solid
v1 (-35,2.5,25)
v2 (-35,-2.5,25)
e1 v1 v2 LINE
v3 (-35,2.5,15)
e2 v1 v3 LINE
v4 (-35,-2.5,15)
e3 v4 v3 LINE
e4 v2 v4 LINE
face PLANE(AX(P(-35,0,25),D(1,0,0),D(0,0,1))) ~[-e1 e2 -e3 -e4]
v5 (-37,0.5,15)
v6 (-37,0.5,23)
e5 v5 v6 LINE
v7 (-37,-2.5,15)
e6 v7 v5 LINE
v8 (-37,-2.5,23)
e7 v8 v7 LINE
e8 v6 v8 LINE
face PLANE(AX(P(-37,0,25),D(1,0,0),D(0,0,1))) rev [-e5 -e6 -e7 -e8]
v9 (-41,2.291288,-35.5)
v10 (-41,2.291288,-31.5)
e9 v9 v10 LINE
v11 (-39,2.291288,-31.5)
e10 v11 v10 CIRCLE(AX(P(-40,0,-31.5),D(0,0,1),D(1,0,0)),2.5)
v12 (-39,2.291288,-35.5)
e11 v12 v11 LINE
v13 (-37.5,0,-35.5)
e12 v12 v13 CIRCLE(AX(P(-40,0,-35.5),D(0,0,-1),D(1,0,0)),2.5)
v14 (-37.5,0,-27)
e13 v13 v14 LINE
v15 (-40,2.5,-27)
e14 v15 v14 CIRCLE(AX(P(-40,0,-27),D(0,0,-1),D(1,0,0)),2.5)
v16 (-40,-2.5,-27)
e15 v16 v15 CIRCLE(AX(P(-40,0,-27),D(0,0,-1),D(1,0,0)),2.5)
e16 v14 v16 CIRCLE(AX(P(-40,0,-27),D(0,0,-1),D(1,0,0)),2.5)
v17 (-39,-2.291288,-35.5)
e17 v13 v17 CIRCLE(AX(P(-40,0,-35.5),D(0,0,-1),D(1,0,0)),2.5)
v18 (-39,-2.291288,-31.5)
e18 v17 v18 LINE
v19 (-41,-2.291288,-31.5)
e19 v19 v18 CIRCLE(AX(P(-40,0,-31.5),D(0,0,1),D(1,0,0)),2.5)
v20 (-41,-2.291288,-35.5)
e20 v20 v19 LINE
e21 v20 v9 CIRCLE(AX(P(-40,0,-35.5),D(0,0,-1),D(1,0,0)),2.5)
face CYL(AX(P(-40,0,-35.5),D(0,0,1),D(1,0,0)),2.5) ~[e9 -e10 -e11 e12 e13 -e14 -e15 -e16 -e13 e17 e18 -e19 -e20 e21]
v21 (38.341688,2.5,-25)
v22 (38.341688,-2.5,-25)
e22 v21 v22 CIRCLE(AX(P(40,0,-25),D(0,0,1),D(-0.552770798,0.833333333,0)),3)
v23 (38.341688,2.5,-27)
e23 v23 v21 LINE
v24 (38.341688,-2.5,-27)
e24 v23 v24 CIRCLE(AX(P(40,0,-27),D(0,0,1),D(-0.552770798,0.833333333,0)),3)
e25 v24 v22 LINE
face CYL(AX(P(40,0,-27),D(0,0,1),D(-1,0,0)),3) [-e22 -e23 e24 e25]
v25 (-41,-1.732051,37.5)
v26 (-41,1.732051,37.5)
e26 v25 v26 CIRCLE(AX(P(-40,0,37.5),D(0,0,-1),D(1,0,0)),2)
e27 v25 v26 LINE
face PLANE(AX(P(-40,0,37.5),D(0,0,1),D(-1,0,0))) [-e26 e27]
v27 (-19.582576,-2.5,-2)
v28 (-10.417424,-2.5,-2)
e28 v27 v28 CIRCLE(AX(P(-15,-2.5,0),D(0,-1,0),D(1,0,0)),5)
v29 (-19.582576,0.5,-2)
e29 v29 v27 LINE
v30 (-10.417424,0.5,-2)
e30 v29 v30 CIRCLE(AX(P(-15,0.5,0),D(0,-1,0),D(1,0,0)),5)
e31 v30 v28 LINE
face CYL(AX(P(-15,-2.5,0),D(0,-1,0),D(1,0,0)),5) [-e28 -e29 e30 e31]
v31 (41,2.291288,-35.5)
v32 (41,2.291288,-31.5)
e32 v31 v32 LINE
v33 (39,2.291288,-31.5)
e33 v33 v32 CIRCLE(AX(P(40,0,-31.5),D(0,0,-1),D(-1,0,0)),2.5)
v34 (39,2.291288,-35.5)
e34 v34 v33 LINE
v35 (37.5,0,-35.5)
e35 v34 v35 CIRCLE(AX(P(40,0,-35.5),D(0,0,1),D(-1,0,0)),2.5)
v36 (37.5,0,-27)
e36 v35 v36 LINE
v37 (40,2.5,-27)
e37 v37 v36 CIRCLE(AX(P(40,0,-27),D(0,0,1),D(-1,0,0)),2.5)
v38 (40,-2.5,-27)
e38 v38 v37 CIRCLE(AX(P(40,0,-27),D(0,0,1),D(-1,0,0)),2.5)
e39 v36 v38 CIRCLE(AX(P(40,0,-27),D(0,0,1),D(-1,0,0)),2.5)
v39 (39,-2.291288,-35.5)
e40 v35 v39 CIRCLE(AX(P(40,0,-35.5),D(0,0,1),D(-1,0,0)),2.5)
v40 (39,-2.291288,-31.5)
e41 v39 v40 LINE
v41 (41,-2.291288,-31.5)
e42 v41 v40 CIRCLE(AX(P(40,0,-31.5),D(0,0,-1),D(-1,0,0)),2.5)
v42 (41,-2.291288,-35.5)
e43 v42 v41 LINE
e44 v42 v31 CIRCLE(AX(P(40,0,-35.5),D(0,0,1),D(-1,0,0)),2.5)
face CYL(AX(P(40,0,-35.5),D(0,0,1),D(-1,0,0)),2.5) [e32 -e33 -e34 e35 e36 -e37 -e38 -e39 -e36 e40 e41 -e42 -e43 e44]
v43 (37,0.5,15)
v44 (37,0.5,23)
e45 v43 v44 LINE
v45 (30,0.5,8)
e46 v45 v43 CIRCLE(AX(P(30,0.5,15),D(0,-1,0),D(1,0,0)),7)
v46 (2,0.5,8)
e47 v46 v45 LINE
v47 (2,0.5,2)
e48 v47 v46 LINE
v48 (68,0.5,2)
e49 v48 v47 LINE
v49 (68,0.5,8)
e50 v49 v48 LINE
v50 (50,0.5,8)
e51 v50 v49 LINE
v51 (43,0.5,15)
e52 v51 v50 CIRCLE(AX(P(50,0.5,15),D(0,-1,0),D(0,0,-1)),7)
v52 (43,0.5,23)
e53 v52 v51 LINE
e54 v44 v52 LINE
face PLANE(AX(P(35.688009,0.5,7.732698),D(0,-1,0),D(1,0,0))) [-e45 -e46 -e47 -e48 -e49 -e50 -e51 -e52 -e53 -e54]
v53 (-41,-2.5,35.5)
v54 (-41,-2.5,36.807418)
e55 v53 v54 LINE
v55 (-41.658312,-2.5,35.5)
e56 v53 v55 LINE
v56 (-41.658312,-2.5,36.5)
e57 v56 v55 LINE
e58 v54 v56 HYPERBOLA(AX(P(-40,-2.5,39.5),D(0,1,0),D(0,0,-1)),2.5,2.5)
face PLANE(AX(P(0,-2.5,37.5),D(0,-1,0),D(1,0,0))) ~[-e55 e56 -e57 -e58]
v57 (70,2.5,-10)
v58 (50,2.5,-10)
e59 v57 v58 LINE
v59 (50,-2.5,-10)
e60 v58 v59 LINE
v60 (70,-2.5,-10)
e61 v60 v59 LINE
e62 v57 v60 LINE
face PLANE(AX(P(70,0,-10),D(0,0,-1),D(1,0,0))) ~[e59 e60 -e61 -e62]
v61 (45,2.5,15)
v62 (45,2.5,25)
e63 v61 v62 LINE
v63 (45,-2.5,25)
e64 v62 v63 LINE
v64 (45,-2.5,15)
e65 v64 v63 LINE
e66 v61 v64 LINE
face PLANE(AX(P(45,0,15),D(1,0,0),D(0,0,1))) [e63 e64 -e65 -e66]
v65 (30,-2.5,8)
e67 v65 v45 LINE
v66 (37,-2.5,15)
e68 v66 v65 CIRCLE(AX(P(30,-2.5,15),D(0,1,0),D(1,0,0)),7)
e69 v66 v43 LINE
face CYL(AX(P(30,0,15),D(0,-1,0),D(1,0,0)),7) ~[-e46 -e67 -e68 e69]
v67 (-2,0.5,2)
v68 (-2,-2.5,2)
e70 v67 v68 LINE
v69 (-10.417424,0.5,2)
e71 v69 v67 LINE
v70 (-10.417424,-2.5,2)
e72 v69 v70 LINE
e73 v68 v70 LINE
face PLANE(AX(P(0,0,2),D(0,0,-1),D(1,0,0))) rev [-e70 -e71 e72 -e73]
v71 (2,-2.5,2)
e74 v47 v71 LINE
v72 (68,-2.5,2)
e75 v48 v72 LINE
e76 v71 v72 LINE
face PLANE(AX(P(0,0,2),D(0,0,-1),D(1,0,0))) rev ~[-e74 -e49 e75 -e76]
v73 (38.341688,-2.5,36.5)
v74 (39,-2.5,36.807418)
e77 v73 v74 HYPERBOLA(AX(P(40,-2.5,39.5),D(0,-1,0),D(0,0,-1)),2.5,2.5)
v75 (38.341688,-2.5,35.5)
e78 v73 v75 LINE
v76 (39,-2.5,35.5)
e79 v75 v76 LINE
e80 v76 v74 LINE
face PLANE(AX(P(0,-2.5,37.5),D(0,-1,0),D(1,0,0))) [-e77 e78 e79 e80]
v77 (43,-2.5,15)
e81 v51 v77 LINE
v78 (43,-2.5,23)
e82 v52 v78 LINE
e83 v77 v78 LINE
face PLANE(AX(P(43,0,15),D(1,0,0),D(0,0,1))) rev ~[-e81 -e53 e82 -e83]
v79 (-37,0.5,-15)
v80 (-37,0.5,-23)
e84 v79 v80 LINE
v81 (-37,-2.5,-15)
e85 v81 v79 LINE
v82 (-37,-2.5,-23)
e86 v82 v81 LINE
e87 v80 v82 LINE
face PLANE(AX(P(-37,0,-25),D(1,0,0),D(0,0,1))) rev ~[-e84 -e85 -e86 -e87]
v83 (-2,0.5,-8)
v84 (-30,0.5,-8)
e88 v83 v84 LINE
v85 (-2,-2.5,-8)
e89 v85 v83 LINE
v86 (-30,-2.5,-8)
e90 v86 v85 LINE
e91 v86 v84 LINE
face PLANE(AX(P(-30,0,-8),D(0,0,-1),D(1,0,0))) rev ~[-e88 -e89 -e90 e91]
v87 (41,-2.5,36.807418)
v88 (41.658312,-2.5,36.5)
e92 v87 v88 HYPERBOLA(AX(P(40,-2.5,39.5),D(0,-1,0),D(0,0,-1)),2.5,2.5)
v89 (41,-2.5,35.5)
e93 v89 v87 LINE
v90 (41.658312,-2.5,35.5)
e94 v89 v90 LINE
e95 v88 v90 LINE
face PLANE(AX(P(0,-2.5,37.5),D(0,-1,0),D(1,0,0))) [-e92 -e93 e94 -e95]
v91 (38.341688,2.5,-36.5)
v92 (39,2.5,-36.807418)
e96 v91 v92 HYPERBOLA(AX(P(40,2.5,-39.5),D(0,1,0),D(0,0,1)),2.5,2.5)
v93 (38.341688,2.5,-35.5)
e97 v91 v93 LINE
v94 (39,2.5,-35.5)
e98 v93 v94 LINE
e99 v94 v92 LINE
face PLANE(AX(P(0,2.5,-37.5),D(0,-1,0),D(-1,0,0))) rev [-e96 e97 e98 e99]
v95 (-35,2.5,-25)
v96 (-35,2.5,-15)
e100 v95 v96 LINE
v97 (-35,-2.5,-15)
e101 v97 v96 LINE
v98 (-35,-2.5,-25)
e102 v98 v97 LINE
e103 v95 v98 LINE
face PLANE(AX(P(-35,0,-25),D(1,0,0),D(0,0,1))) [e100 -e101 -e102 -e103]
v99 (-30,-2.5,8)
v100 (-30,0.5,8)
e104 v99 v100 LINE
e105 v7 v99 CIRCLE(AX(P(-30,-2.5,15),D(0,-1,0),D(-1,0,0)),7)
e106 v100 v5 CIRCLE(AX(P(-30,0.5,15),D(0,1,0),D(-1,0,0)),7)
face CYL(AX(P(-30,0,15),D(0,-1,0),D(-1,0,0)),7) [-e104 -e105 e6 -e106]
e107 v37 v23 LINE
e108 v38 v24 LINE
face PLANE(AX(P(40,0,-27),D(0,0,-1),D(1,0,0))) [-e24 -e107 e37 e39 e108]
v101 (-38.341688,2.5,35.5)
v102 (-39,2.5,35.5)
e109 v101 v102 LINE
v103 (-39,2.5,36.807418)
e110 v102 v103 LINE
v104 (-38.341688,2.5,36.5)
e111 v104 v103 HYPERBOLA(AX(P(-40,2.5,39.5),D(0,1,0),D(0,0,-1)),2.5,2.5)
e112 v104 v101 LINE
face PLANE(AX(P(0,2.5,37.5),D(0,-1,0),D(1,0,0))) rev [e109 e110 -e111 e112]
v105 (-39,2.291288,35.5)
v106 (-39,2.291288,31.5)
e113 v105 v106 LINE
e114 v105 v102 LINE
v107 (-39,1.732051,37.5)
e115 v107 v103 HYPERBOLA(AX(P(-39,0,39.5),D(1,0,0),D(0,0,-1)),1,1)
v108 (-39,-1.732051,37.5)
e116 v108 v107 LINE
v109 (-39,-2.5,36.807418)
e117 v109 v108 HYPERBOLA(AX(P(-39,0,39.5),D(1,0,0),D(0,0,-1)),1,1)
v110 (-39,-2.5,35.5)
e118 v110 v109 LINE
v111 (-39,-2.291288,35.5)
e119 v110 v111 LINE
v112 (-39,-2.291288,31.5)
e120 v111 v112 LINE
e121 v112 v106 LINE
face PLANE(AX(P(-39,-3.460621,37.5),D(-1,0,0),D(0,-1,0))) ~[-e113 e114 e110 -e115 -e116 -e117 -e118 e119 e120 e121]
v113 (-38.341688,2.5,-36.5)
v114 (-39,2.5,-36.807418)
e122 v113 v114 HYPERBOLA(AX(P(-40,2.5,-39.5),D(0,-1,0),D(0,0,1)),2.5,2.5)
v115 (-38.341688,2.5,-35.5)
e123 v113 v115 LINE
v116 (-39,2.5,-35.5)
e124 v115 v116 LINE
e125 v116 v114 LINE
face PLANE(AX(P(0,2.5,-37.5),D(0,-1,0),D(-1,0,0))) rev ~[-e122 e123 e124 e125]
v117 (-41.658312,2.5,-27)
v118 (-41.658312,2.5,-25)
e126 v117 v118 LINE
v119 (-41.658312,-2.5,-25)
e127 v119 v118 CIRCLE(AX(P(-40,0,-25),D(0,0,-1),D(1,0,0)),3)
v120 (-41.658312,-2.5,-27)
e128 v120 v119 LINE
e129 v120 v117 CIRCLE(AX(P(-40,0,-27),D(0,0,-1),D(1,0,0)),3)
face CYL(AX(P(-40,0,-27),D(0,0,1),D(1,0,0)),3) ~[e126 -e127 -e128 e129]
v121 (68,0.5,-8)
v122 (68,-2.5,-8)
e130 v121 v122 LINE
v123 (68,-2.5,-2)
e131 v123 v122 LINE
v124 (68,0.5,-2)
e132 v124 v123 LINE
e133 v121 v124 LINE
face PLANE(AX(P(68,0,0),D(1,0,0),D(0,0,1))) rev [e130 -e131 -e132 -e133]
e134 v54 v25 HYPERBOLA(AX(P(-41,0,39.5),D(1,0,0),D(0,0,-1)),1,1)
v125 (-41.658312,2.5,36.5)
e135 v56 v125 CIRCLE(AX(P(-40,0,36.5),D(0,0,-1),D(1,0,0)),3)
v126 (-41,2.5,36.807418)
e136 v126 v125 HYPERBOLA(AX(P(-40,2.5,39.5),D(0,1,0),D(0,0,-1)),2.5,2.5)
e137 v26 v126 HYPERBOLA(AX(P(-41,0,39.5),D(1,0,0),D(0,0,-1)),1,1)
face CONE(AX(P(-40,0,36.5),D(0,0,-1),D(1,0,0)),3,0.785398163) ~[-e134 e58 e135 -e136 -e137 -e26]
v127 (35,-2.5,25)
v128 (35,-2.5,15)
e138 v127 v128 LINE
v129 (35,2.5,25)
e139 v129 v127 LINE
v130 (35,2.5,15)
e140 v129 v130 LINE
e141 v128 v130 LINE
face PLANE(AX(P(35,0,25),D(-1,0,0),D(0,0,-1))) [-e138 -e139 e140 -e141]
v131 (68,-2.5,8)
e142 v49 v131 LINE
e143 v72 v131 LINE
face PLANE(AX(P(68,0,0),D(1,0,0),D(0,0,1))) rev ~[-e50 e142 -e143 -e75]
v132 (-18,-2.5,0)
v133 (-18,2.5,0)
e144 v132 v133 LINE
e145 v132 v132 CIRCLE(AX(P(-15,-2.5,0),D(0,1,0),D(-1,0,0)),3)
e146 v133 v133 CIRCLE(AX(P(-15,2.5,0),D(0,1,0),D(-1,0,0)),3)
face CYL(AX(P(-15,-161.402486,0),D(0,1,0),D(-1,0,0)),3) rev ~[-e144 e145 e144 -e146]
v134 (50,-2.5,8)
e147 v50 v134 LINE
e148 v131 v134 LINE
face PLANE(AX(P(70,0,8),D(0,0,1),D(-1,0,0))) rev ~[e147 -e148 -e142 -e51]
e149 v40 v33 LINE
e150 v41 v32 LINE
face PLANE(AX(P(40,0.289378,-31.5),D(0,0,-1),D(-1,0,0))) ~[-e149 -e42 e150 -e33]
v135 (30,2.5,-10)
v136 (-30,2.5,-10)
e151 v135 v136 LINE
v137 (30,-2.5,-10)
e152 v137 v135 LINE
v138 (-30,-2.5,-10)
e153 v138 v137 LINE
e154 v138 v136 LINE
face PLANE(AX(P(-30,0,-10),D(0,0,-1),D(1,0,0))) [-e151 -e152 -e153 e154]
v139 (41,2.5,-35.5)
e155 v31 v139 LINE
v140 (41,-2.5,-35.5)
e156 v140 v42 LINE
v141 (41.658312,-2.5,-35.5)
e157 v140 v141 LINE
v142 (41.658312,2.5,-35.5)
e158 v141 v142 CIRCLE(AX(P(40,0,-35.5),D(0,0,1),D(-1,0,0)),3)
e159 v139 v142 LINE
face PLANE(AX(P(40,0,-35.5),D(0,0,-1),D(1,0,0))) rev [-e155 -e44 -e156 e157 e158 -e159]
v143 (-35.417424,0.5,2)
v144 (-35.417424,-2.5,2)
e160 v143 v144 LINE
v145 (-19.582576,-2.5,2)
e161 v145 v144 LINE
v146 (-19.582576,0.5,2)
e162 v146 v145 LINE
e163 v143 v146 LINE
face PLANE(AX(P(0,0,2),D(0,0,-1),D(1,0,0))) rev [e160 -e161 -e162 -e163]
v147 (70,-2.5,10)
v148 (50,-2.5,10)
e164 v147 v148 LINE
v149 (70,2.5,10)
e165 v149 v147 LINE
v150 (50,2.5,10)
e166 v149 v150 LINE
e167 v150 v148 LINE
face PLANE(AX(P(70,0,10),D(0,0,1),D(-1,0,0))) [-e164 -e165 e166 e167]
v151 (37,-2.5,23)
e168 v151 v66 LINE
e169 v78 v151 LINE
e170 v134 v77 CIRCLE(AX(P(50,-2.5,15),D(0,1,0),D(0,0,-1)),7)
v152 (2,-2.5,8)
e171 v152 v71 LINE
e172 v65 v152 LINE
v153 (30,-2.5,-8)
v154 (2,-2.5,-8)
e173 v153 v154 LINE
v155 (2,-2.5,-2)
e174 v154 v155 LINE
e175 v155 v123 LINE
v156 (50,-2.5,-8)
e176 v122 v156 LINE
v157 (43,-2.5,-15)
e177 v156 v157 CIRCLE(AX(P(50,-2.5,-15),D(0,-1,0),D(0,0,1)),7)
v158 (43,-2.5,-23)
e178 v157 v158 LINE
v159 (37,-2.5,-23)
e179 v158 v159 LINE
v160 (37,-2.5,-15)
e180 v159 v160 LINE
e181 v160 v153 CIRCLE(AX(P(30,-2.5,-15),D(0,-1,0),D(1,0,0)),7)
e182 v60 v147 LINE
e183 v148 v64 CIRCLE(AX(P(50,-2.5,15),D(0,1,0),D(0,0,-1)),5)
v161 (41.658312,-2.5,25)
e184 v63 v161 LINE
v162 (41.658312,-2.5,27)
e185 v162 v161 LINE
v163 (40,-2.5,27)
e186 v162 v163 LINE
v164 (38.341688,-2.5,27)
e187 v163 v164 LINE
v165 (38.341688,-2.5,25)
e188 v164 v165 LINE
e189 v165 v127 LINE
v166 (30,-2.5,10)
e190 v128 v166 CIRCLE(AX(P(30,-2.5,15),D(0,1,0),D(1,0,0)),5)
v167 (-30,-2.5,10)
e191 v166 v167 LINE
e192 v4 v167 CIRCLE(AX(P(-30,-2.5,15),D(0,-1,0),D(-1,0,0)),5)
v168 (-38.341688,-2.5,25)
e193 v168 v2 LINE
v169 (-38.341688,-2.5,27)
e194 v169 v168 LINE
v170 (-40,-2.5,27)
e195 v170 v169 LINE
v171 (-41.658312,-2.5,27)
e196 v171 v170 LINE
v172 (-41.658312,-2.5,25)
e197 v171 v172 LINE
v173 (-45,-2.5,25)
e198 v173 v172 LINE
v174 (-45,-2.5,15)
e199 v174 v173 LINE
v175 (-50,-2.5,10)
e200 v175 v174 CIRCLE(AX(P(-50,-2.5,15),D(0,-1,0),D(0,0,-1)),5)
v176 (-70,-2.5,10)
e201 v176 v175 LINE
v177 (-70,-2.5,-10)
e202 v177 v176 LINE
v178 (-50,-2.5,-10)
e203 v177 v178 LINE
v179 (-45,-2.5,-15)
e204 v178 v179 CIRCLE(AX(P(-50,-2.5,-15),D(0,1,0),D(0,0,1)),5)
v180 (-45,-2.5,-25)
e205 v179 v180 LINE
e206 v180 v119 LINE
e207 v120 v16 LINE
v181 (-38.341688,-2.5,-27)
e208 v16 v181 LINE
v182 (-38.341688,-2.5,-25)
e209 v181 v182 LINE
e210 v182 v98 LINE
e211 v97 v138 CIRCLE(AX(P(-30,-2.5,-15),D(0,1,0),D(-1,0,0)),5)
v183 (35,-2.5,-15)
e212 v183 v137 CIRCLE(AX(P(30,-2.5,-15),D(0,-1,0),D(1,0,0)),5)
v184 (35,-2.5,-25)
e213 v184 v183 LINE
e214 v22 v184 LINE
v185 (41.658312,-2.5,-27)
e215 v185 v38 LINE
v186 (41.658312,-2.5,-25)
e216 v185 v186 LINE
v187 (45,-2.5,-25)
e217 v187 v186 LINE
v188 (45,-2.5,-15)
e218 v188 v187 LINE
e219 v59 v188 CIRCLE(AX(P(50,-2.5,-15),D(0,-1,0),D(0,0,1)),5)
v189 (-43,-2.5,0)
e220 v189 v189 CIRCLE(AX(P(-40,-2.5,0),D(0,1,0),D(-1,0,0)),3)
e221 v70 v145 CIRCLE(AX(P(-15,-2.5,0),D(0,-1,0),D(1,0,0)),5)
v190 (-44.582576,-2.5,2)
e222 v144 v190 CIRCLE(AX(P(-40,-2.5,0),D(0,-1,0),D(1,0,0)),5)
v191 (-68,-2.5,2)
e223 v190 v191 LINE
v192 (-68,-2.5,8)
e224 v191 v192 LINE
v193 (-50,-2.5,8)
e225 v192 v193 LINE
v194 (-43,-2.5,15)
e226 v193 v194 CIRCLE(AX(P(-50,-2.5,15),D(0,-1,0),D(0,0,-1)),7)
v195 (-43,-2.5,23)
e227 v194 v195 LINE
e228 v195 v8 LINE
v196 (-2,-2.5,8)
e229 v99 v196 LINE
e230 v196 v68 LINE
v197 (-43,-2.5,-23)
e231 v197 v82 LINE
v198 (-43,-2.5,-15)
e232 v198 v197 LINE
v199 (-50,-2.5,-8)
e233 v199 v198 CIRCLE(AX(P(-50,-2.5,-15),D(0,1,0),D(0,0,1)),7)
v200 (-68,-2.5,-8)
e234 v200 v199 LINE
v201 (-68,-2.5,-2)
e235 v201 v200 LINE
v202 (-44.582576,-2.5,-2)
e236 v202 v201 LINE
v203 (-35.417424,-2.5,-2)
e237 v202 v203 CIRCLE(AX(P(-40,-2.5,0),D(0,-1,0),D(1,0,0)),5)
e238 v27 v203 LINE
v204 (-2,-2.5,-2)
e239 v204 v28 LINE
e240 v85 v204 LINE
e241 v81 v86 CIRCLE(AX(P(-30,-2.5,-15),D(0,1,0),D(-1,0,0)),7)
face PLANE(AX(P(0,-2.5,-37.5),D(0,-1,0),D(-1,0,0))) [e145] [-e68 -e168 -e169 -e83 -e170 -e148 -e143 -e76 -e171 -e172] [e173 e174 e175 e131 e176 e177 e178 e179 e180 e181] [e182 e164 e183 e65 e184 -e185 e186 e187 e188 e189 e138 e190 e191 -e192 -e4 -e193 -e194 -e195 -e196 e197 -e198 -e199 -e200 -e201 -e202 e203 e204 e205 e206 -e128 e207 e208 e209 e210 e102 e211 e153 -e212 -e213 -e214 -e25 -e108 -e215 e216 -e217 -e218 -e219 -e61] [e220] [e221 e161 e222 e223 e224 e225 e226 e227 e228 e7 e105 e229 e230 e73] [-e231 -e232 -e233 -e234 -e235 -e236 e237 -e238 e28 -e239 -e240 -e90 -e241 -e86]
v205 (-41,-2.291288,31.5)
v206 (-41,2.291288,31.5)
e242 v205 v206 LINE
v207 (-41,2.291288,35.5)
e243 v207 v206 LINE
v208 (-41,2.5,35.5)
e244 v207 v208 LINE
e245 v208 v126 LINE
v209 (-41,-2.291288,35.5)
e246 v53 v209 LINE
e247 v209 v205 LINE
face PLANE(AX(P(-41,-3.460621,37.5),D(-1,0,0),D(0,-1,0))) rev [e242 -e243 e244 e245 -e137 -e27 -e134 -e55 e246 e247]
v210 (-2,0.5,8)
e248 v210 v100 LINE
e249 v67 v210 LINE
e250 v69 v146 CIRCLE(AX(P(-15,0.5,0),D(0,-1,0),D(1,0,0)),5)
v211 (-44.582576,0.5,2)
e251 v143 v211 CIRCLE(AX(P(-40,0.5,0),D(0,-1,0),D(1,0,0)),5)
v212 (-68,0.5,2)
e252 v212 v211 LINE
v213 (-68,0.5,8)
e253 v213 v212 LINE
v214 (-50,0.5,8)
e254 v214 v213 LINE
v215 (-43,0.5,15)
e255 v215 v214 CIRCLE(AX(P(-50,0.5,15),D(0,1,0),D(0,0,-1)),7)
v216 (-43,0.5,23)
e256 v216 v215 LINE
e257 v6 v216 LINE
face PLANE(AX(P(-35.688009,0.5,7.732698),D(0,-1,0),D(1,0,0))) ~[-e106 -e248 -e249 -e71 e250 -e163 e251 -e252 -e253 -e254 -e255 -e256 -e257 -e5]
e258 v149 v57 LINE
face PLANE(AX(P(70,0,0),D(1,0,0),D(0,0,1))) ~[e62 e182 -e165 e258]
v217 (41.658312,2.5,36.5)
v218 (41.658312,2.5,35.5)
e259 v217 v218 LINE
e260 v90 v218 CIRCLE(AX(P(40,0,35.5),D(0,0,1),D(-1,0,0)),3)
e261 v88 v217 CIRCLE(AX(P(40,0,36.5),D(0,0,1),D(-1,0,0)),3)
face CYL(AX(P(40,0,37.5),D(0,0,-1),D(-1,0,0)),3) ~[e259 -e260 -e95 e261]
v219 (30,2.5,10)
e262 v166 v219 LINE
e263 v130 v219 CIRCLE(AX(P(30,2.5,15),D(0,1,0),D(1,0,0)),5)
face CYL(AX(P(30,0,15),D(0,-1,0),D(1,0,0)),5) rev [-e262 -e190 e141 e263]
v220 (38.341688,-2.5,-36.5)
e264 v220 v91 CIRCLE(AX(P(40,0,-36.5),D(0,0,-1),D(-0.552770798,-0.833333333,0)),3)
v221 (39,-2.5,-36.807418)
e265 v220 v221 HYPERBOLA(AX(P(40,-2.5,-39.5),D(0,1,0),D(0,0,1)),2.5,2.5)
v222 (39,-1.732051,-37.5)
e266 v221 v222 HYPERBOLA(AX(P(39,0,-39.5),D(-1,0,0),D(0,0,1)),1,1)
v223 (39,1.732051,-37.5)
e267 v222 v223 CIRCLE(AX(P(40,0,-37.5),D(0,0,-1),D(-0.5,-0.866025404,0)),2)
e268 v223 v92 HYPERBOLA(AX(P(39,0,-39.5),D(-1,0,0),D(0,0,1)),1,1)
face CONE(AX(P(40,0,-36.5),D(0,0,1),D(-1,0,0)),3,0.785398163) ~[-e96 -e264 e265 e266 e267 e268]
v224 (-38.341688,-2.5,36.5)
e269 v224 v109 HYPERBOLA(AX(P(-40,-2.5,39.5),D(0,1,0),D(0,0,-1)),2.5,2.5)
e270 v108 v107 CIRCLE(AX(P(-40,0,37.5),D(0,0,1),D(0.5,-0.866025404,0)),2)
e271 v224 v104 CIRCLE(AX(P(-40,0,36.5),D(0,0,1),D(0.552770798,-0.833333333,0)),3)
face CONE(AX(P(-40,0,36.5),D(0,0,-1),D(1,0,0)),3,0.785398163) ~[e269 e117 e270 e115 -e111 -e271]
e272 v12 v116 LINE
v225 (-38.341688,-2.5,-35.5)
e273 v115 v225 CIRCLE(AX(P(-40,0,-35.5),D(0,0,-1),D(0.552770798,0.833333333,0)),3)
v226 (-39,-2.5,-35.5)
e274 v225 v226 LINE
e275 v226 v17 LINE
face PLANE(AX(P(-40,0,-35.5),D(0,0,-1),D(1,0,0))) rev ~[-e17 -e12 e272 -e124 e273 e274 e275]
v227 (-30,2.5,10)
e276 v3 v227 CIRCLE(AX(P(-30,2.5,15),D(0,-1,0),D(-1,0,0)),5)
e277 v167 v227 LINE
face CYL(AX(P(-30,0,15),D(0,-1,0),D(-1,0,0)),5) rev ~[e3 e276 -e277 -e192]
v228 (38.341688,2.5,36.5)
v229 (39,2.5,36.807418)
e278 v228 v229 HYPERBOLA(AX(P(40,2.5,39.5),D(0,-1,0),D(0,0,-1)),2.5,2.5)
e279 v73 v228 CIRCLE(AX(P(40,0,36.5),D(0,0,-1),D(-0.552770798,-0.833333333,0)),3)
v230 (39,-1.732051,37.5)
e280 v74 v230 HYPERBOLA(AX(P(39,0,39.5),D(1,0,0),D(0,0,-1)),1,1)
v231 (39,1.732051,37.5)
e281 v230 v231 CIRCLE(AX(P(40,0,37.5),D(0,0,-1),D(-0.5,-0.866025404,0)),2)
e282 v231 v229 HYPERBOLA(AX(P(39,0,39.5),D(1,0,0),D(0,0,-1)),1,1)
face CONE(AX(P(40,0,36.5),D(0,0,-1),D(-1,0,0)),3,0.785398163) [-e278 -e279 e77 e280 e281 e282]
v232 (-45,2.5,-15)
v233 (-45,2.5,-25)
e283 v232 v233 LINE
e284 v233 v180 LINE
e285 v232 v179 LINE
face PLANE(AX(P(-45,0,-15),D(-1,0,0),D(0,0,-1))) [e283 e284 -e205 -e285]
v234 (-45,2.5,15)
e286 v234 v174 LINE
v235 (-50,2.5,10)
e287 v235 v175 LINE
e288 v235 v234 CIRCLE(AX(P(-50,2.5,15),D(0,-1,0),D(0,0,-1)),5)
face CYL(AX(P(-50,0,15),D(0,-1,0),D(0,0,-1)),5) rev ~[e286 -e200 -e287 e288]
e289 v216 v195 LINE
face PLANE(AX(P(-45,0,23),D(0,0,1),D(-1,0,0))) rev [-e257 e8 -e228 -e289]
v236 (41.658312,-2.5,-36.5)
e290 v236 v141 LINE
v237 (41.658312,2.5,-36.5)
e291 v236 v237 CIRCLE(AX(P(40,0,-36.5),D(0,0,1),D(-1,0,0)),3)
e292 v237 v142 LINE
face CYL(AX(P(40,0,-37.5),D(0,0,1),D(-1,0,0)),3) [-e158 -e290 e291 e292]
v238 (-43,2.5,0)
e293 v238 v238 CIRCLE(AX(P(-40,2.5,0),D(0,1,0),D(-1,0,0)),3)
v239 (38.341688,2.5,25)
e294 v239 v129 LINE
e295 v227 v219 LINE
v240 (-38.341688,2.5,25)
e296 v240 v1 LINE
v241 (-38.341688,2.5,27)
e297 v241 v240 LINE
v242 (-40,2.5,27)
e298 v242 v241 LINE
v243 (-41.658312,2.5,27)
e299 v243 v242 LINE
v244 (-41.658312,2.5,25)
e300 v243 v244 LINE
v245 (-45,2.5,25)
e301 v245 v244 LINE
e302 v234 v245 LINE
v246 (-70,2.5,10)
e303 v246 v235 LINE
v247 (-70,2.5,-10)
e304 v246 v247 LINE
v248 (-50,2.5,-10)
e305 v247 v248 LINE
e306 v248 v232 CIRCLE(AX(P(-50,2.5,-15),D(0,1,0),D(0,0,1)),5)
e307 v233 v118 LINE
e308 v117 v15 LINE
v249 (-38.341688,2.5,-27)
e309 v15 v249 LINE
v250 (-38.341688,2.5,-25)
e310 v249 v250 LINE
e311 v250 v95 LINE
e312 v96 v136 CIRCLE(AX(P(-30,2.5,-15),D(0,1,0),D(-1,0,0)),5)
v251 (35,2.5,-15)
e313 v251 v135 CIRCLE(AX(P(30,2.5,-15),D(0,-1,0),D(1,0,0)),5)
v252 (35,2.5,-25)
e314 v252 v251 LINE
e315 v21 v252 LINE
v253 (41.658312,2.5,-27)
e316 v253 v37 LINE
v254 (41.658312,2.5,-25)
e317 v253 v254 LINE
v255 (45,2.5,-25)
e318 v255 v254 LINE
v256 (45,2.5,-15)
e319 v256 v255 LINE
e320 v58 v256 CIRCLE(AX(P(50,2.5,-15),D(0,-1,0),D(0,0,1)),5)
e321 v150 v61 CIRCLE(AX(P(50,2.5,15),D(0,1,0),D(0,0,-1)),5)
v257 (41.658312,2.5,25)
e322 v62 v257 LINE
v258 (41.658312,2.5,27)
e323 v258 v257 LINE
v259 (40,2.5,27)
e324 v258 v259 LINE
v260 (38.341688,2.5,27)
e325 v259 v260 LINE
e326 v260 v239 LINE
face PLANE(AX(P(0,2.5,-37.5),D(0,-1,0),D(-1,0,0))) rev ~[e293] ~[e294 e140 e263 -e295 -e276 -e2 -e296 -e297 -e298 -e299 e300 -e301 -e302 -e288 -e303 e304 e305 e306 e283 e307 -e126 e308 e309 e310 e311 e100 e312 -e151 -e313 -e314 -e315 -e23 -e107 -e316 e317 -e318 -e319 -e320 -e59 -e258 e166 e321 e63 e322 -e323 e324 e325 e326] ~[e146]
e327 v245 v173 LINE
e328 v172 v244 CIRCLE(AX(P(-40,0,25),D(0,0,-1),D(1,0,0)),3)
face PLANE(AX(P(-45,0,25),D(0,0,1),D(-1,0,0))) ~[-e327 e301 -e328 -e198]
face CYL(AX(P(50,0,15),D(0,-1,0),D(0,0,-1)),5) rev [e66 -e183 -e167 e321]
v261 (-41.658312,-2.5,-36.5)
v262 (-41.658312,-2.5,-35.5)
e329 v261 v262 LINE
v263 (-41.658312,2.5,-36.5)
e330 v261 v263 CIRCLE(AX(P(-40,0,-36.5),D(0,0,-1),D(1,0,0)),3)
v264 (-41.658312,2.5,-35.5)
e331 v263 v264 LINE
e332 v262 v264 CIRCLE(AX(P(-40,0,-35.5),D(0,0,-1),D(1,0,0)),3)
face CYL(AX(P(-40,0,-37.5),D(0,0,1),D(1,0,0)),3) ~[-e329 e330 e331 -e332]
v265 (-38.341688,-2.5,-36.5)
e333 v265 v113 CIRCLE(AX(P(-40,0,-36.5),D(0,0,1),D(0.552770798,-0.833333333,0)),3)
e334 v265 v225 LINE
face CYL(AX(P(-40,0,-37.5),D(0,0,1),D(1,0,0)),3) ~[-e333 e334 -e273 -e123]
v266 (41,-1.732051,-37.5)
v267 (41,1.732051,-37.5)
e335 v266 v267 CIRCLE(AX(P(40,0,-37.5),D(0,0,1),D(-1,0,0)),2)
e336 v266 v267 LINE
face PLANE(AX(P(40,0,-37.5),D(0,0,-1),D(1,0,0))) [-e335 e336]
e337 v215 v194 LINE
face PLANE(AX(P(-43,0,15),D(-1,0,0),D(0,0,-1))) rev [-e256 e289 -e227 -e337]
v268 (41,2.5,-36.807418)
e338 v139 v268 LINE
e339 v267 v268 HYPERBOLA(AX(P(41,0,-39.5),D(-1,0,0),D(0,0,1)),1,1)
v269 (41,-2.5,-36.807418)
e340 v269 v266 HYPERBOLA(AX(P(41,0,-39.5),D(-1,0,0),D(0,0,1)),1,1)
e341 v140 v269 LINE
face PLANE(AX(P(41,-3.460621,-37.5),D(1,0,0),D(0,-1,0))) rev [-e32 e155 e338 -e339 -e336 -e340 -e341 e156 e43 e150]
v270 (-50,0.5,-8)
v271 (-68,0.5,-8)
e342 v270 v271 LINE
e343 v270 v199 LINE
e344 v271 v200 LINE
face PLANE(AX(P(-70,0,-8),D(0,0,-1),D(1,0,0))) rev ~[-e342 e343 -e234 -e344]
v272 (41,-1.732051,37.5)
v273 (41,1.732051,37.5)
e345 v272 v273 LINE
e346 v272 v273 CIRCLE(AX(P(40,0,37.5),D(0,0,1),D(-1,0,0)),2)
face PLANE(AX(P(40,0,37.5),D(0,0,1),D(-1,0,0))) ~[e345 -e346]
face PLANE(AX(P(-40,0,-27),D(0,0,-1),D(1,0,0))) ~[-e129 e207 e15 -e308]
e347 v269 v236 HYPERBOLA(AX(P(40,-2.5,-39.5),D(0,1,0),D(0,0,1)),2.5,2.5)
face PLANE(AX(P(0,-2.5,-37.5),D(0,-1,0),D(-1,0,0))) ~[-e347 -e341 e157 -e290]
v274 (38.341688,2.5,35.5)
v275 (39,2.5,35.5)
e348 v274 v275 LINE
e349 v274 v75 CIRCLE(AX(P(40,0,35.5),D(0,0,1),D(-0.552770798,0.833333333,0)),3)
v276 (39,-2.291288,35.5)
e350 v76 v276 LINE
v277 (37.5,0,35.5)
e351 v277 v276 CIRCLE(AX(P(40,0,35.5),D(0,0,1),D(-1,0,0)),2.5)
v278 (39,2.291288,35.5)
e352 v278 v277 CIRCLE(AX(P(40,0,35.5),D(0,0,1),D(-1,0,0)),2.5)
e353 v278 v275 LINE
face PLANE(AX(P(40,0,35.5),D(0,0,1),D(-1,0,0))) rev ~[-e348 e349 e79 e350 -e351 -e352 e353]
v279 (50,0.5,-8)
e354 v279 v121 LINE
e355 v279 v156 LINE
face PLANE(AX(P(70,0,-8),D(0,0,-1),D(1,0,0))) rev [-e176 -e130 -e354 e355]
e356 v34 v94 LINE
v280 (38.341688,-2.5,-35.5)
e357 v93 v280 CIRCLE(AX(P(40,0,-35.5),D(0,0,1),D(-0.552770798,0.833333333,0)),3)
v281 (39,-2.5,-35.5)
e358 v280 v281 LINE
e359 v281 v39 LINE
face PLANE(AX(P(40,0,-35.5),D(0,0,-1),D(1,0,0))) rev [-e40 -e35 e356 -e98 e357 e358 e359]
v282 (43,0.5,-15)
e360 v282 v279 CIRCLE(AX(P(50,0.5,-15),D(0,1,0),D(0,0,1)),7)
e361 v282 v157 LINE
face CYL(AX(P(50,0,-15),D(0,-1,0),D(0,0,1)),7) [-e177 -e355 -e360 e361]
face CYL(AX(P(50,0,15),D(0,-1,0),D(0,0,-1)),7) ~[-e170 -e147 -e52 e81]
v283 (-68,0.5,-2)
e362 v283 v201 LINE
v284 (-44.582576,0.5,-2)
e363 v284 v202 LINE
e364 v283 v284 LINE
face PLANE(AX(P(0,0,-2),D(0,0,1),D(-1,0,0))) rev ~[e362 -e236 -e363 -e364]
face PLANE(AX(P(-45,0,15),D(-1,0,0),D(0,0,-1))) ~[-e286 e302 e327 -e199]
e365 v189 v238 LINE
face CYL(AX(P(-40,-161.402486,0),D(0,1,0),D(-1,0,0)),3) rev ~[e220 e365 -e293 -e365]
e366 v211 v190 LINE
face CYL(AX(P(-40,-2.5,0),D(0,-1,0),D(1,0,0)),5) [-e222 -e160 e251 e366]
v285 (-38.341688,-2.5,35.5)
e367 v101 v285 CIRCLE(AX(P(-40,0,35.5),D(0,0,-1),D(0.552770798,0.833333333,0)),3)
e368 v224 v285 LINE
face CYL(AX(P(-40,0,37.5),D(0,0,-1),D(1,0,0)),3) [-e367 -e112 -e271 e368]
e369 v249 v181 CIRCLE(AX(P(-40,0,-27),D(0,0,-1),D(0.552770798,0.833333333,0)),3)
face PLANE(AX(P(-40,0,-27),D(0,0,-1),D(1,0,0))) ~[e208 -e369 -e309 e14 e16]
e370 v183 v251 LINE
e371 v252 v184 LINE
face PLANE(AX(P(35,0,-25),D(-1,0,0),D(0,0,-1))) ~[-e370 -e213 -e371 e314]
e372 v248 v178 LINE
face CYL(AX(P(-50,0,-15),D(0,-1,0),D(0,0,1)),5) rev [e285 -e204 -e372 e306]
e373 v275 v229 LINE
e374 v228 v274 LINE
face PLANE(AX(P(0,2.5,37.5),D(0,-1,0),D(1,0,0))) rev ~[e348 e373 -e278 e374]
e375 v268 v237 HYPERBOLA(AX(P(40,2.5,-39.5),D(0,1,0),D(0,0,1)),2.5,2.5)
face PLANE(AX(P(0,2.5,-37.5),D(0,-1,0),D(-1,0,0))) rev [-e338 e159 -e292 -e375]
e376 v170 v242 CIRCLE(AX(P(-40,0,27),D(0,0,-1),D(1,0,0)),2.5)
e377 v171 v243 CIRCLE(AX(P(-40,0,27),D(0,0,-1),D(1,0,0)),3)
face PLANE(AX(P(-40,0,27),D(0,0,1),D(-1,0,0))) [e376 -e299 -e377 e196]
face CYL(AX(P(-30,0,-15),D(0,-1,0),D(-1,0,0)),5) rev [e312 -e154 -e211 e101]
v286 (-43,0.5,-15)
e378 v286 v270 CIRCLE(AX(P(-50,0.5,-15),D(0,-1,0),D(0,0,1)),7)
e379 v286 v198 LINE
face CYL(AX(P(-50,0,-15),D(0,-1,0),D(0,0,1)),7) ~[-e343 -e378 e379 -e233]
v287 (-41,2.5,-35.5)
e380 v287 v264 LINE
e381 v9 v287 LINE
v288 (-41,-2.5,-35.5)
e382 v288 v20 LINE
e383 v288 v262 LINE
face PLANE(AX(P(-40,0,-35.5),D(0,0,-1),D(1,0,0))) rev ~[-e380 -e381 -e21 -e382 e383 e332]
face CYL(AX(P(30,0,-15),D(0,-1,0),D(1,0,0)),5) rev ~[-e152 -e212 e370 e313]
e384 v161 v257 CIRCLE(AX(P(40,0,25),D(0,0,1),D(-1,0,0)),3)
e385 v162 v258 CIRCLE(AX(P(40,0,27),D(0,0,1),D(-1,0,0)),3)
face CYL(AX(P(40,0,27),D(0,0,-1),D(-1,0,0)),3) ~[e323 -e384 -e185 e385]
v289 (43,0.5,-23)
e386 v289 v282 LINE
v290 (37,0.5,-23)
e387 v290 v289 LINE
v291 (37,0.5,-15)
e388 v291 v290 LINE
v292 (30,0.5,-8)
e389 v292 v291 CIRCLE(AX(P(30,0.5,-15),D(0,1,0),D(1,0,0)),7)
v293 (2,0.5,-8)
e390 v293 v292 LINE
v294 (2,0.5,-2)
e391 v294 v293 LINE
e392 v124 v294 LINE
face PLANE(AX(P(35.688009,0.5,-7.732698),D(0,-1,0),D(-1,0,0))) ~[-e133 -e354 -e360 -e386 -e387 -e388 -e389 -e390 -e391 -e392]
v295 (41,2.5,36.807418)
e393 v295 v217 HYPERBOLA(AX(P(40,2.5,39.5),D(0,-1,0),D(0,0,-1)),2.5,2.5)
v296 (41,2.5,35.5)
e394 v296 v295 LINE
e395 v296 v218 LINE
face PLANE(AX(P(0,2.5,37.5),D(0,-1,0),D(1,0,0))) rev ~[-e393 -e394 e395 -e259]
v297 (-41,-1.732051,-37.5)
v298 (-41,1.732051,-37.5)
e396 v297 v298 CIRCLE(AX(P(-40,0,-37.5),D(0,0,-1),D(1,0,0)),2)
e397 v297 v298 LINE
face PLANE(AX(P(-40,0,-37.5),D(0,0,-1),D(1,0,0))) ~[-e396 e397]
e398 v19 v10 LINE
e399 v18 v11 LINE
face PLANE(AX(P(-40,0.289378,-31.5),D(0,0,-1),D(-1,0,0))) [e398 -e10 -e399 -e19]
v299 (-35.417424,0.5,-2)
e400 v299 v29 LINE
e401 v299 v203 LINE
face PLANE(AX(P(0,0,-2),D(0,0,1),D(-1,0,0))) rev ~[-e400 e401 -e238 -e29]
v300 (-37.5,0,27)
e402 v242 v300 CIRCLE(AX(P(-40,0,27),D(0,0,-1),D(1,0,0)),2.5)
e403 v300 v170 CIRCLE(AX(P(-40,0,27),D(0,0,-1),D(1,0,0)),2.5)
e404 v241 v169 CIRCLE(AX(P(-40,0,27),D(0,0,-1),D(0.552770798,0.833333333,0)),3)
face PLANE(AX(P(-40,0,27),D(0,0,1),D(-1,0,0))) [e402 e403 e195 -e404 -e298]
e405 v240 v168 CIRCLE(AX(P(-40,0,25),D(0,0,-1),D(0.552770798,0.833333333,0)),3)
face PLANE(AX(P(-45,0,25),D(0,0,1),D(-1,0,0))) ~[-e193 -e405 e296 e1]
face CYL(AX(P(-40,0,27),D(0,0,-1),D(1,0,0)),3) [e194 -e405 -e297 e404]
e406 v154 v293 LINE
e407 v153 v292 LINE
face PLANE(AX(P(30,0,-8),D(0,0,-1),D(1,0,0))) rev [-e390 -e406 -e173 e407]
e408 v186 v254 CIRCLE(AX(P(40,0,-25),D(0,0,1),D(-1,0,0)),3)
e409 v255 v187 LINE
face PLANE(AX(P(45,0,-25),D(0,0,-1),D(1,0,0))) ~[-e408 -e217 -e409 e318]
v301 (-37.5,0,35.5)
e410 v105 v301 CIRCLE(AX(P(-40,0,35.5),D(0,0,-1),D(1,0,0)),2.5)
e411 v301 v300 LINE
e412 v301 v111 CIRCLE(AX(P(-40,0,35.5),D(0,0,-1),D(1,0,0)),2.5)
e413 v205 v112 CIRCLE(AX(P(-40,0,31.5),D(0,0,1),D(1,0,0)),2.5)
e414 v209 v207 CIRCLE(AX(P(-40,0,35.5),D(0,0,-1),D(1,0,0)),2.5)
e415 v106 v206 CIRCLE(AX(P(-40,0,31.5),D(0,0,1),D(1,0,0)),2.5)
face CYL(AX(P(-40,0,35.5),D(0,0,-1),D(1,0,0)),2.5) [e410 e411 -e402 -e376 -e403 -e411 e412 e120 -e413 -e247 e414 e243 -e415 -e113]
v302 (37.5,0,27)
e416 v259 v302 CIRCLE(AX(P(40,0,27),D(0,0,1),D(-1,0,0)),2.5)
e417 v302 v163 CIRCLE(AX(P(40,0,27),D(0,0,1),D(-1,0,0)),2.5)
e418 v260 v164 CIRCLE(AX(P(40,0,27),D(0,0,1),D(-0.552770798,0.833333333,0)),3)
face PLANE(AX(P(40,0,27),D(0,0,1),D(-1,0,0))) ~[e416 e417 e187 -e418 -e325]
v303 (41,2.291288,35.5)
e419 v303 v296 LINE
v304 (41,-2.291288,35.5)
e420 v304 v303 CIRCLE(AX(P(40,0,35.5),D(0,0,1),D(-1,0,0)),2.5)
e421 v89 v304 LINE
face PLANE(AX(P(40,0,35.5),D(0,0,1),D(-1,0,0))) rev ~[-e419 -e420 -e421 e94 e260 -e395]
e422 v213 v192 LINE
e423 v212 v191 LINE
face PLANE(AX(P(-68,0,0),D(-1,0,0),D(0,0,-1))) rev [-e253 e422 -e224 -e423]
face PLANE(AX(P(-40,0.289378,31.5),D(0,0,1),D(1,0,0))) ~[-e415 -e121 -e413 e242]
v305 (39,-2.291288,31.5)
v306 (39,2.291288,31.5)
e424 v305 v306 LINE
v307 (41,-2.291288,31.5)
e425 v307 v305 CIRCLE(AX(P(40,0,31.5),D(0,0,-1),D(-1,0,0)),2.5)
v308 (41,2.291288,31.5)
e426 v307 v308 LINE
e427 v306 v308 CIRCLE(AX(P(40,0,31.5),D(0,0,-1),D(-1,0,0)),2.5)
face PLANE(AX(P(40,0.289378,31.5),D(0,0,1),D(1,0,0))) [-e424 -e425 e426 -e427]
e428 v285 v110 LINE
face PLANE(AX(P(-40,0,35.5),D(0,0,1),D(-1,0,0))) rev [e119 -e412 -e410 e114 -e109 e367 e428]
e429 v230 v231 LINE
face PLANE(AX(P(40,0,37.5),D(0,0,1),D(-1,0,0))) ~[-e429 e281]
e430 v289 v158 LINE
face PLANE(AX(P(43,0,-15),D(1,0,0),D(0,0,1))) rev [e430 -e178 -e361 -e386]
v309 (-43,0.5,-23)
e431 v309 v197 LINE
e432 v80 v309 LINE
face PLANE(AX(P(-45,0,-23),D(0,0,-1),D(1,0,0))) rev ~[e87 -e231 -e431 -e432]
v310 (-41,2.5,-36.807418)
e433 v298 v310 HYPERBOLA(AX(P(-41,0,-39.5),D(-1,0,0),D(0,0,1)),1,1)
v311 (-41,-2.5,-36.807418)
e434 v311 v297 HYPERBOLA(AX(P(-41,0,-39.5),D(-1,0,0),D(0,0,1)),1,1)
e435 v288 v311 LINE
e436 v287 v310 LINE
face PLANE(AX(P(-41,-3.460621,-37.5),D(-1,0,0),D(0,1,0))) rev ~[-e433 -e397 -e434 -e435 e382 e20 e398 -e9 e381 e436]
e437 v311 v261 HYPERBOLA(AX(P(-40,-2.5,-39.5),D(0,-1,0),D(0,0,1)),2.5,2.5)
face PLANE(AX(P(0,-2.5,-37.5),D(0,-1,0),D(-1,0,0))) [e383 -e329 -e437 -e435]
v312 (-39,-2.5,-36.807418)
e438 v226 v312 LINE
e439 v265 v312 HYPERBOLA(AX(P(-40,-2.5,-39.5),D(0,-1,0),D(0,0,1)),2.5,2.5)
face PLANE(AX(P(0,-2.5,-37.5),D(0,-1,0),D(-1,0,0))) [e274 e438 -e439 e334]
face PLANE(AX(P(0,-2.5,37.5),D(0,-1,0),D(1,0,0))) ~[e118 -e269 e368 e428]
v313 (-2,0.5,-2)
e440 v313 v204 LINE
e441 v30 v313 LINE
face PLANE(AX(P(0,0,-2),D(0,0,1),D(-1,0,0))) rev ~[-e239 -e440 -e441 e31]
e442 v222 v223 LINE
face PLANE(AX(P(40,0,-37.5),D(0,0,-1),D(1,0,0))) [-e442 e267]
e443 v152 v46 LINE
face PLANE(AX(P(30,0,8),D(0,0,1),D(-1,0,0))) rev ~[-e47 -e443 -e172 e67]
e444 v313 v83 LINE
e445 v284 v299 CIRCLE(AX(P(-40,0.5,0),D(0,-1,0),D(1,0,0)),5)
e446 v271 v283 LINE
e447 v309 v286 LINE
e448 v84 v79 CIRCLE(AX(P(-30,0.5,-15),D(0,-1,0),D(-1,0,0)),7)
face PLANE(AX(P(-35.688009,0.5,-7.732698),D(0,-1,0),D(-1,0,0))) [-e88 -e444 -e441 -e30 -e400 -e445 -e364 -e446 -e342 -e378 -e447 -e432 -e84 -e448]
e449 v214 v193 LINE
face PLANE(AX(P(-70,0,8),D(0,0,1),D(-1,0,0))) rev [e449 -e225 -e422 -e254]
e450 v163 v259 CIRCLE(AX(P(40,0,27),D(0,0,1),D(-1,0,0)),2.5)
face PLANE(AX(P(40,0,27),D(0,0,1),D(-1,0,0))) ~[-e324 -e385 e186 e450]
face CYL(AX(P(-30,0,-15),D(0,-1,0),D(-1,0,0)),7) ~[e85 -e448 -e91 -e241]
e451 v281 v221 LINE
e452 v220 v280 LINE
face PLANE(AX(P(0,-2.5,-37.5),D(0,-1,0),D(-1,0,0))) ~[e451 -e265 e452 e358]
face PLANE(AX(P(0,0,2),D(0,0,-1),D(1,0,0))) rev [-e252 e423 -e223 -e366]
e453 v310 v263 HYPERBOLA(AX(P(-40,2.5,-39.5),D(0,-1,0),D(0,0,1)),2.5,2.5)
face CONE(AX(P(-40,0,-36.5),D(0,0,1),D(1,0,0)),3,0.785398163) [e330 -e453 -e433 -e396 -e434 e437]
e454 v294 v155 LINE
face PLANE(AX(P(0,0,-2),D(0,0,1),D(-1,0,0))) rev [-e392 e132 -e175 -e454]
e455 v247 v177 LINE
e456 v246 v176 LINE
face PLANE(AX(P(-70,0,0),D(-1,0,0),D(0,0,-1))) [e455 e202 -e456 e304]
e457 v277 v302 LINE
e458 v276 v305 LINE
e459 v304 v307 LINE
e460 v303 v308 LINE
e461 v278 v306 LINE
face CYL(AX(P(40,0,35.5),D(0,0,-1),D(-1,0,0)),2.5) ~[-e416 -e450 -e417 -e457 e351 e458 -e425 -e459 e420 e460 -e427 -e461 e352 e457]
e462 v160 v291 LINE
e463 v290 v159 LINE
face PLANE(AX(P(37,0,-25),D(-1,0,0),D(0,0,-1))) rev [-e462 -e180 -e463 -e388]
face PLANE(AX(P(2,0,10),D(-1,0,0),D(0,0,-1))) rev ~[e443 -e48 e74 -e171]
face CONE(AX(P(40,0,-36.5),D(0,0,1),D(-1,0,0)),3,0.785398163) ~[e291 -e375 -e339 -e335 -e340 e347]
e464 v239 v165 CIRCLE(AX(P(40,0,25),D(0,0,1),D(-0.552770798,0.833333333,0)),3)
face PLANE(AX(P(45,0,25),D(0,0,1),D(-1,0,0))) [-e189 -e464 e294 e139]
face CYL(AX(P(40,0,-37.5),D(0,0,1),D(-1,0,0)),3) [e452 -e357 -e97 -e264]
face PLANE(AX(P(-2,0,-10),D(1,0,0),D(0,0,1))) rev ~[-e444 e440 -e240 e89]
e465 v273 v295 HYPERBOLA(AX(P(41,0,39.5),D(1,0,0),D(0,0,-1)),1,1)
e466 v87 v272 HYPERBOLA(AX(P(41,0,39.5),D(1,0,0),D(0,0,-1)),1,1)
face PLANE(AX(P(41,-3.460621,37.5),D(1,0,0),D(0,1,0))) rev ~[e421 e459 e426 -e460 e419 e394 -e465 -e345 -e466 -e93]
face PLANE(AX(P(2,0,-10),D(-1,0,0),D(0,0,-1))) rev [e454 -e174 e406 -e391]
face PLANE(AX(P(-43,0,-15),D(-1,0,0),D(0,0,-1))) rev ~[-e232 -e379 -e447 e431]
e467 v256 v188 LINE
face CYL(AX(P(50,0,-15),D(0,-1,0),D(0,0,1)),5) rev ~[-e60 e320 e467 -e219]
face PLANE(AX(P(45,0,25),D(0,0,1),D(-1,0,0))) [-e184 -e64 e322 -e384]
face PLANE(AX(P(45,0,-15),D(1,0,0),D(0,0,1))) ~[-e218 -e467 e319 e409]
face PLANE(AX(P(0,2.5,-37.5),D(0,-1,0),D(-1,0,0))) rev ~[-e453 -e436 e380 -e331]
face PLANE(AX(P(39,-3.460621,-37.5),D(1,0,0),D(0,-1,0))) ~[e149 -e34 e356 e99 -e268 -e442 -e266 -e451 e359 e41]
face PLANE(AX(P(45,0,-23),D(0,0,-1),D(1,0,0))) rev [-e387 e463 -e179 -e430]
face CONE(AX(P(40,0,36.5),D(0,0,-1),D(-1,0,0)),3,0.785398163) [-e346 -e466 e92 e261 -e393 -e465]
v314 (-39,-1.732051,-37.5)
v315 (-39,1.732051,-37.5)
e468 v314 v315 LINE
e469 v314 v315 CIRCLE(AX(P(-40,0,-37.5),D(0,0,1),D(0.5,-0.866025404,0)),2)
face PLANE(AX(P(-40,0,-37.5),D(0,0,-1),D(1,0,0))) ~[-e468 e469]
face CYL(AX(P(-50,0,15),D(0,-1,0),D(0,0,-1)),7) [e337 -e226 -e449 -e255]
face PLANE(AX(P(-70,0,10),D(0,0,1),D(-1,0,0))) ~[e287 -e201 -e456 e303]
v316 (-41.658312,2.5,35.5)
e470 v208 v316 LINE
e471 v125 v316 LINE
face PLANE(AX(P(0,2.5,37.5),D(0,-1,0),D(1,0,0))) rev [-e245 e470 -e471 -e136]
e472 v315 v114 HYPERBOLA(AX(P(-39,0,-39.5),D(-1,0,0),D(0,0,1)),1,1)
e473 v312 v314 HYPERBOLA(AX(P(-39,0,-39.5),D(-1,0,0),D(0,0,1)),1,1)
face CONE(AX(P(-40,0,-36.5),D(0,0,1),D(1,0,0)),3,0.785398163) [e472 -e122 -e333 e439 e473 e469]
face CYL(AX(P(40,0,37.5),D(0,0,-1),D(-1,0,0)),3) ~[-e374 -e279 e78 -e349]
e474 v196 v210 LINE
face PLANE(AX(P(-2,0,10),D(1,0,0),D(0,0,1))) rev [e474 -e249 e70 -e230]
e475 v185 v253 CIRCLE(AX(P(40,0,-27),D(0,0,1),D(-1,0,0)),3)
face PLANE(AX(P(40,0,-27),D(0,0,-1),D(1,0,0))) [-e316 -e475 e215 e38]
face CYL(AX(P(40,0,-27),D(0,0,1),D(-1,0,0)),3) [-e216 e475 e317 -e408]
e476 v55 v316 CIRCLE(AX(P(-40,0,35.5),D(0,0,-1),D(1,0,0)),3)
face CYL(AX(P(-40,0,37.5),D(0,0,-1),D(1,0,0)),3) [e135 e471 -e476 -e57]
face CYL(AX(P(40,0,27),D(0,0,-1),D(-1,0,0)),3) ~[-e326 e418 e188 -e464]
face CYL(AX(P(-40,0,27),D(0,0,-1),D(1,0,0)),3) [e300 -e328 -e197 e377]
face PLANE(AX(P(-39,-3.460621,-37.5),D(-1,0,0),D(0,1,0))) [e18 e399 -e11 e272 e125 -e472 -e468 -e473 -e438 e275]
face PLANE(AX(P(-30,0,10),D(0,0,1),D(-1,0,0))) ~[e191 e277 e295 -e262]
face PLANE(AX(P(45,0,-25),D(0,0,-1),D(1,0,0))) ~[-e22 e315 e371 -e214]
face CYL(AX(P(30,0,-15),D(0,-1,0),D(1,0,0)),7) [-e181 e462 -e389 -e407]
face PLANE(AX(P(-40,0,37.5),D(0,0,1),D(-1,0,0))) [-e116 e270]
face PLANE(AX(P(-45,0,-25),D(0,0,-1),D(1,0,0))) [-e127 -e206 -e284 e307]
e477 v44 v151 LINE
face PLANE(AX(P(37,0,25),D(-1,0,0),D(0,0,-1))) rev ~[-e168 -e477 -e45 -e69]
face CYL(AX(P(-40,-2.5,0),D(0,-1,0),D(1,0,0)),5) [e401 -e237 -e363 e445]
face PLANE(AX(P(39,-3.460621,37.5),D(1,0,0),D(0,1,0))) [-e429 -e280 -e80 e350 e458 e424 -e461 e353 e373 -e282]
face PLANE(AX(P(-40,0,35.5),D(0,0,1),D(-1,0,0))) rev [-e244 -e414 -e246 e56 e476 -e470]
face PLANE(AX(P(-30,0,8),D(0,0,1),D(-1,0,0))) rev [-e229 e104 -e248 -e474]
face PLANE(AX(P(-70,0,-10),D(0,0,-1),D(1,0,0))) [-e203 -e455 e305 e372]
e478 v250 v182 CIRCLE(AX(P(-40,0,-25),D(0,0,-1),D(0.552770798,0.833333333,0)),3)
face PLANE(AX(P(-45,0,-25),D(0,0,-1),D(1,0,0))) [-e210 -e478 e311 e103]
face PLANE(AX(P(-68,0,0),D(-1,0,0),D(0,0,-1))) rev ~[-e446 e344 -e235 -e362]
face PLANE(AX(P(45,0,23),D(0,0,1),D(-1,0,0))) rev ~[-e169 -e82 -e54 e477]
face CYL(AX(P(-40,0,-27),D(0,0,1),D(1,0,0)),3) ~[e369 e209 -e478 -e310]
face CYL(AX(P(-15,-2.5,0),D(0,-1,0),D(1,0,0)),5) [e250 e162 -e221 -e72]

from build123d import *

# Parameters (mm, degrees)
F1_DEPTH  = 2.5
F2_T      = -2
F5_SIZE   = 1
F6_W      = 75
F6_H      = 5
F7_DEPTH  = 37.501
F8_W      = 2
F8_H      = 7.4999978279
F9_DEPTH  = 6
F12_R     = 5
F13_DEPTH = 5
F15_D     = 6


with BuildPart() as f1:
    # F0 (on Front) → F1 (new body, symmetric)
    with BuildSketch(Plane.XZ):
        with BuildLine():
            Line((0, 10), (0, 0))
            Line((0, 0), (70, 0))
            Line((70, 0), (70, 10))
            Line((70, 10), (50, 10))
            ThreePointArc((50, 10), (46.4644660941, 11.4644660941), (45, 15))
            Line((45, 15), (45, 25))
            Line((45, 25), (35, 25))
            Line((35, 25), (35, 15))
            ThreePointArc((35, 15), (33.5355339059, 11.4644660941), (30, 10))
            Line((30, 10), (0, 10))
        make_face()
    extrude(amount=F1_DEPTH, both=True)

    # F2
    f2_openings = [f1.faces().sort_by_distance(p)[0] for p in [
        (35.933685, -2.5, 7.254637),
    ]]
    offset(amount=F2_T, openings=f2_openings)

    # F3 (on Front) → F4 (revolve)
    with BuildSketch(Plane.XZ):
        Polygon((37, 25), (40, 25), (40, 37.5), (37, 37.5), (37, 35.5), (37.5, 35.5), (37.5, 27), (37, 27), align=None)
    revolve(axis=Axis((40, 0, 31.25), (0, 0, 1)))

    # F5
    f5_edges = [f1.edges().sort_by_distance(p)[0] for p in [
        (43, 0, 37.5),
    ]]
    chamfer(f5_edges, length=F5_SIZE)

    # F6 (on face) → F7 (intersect, through all)
    with BuildSketch(Plane.XY.offset(37.5)):
        with Locations((37.5, 0)):
            Rectangle(F6_W, F6_H)
    extrude(amount=-F7_DEPTH, mode=Mode.INTERSECT)

    # F8 (on face) → F9 (cut)
    with BuildSketch(Plane.XY.offset(37.5)):
        with Locations((40, 0.2893782221)):
            Rectangle(F8_W, F8_H)
    extrude(amount=-F9_DEPTH, mode=Mode.SUBTRACT)

    # F10: F1 across plane


with BuildPart() as f1_1:
    add(f1.part)
    add(f1.part.mirror(Plane.XY))

    # F11: F1 across plane


with BuildPart() as f1_2:
    add(f1_1.part)
    add(f1_1.part.mirror(Plane.YZ))

    # F12 (on face) → F13 (join, through all)
    with BuildSketch(Plane.XZ.offset(2.5)):
        with Locations((-40, 0)):
            Circle(F12_R)
        with Locations((-15, 0)):
            Circle(F12_R)
    extrude(amount=-F13_DEPTH)

    # F15 (through all)
    with Locations(Plane.XZ.offset(2.5)):
        with Locations((-40, 0), (-15, 0)):
            Hole(F15_D / 2)


solid = f1_2.part
